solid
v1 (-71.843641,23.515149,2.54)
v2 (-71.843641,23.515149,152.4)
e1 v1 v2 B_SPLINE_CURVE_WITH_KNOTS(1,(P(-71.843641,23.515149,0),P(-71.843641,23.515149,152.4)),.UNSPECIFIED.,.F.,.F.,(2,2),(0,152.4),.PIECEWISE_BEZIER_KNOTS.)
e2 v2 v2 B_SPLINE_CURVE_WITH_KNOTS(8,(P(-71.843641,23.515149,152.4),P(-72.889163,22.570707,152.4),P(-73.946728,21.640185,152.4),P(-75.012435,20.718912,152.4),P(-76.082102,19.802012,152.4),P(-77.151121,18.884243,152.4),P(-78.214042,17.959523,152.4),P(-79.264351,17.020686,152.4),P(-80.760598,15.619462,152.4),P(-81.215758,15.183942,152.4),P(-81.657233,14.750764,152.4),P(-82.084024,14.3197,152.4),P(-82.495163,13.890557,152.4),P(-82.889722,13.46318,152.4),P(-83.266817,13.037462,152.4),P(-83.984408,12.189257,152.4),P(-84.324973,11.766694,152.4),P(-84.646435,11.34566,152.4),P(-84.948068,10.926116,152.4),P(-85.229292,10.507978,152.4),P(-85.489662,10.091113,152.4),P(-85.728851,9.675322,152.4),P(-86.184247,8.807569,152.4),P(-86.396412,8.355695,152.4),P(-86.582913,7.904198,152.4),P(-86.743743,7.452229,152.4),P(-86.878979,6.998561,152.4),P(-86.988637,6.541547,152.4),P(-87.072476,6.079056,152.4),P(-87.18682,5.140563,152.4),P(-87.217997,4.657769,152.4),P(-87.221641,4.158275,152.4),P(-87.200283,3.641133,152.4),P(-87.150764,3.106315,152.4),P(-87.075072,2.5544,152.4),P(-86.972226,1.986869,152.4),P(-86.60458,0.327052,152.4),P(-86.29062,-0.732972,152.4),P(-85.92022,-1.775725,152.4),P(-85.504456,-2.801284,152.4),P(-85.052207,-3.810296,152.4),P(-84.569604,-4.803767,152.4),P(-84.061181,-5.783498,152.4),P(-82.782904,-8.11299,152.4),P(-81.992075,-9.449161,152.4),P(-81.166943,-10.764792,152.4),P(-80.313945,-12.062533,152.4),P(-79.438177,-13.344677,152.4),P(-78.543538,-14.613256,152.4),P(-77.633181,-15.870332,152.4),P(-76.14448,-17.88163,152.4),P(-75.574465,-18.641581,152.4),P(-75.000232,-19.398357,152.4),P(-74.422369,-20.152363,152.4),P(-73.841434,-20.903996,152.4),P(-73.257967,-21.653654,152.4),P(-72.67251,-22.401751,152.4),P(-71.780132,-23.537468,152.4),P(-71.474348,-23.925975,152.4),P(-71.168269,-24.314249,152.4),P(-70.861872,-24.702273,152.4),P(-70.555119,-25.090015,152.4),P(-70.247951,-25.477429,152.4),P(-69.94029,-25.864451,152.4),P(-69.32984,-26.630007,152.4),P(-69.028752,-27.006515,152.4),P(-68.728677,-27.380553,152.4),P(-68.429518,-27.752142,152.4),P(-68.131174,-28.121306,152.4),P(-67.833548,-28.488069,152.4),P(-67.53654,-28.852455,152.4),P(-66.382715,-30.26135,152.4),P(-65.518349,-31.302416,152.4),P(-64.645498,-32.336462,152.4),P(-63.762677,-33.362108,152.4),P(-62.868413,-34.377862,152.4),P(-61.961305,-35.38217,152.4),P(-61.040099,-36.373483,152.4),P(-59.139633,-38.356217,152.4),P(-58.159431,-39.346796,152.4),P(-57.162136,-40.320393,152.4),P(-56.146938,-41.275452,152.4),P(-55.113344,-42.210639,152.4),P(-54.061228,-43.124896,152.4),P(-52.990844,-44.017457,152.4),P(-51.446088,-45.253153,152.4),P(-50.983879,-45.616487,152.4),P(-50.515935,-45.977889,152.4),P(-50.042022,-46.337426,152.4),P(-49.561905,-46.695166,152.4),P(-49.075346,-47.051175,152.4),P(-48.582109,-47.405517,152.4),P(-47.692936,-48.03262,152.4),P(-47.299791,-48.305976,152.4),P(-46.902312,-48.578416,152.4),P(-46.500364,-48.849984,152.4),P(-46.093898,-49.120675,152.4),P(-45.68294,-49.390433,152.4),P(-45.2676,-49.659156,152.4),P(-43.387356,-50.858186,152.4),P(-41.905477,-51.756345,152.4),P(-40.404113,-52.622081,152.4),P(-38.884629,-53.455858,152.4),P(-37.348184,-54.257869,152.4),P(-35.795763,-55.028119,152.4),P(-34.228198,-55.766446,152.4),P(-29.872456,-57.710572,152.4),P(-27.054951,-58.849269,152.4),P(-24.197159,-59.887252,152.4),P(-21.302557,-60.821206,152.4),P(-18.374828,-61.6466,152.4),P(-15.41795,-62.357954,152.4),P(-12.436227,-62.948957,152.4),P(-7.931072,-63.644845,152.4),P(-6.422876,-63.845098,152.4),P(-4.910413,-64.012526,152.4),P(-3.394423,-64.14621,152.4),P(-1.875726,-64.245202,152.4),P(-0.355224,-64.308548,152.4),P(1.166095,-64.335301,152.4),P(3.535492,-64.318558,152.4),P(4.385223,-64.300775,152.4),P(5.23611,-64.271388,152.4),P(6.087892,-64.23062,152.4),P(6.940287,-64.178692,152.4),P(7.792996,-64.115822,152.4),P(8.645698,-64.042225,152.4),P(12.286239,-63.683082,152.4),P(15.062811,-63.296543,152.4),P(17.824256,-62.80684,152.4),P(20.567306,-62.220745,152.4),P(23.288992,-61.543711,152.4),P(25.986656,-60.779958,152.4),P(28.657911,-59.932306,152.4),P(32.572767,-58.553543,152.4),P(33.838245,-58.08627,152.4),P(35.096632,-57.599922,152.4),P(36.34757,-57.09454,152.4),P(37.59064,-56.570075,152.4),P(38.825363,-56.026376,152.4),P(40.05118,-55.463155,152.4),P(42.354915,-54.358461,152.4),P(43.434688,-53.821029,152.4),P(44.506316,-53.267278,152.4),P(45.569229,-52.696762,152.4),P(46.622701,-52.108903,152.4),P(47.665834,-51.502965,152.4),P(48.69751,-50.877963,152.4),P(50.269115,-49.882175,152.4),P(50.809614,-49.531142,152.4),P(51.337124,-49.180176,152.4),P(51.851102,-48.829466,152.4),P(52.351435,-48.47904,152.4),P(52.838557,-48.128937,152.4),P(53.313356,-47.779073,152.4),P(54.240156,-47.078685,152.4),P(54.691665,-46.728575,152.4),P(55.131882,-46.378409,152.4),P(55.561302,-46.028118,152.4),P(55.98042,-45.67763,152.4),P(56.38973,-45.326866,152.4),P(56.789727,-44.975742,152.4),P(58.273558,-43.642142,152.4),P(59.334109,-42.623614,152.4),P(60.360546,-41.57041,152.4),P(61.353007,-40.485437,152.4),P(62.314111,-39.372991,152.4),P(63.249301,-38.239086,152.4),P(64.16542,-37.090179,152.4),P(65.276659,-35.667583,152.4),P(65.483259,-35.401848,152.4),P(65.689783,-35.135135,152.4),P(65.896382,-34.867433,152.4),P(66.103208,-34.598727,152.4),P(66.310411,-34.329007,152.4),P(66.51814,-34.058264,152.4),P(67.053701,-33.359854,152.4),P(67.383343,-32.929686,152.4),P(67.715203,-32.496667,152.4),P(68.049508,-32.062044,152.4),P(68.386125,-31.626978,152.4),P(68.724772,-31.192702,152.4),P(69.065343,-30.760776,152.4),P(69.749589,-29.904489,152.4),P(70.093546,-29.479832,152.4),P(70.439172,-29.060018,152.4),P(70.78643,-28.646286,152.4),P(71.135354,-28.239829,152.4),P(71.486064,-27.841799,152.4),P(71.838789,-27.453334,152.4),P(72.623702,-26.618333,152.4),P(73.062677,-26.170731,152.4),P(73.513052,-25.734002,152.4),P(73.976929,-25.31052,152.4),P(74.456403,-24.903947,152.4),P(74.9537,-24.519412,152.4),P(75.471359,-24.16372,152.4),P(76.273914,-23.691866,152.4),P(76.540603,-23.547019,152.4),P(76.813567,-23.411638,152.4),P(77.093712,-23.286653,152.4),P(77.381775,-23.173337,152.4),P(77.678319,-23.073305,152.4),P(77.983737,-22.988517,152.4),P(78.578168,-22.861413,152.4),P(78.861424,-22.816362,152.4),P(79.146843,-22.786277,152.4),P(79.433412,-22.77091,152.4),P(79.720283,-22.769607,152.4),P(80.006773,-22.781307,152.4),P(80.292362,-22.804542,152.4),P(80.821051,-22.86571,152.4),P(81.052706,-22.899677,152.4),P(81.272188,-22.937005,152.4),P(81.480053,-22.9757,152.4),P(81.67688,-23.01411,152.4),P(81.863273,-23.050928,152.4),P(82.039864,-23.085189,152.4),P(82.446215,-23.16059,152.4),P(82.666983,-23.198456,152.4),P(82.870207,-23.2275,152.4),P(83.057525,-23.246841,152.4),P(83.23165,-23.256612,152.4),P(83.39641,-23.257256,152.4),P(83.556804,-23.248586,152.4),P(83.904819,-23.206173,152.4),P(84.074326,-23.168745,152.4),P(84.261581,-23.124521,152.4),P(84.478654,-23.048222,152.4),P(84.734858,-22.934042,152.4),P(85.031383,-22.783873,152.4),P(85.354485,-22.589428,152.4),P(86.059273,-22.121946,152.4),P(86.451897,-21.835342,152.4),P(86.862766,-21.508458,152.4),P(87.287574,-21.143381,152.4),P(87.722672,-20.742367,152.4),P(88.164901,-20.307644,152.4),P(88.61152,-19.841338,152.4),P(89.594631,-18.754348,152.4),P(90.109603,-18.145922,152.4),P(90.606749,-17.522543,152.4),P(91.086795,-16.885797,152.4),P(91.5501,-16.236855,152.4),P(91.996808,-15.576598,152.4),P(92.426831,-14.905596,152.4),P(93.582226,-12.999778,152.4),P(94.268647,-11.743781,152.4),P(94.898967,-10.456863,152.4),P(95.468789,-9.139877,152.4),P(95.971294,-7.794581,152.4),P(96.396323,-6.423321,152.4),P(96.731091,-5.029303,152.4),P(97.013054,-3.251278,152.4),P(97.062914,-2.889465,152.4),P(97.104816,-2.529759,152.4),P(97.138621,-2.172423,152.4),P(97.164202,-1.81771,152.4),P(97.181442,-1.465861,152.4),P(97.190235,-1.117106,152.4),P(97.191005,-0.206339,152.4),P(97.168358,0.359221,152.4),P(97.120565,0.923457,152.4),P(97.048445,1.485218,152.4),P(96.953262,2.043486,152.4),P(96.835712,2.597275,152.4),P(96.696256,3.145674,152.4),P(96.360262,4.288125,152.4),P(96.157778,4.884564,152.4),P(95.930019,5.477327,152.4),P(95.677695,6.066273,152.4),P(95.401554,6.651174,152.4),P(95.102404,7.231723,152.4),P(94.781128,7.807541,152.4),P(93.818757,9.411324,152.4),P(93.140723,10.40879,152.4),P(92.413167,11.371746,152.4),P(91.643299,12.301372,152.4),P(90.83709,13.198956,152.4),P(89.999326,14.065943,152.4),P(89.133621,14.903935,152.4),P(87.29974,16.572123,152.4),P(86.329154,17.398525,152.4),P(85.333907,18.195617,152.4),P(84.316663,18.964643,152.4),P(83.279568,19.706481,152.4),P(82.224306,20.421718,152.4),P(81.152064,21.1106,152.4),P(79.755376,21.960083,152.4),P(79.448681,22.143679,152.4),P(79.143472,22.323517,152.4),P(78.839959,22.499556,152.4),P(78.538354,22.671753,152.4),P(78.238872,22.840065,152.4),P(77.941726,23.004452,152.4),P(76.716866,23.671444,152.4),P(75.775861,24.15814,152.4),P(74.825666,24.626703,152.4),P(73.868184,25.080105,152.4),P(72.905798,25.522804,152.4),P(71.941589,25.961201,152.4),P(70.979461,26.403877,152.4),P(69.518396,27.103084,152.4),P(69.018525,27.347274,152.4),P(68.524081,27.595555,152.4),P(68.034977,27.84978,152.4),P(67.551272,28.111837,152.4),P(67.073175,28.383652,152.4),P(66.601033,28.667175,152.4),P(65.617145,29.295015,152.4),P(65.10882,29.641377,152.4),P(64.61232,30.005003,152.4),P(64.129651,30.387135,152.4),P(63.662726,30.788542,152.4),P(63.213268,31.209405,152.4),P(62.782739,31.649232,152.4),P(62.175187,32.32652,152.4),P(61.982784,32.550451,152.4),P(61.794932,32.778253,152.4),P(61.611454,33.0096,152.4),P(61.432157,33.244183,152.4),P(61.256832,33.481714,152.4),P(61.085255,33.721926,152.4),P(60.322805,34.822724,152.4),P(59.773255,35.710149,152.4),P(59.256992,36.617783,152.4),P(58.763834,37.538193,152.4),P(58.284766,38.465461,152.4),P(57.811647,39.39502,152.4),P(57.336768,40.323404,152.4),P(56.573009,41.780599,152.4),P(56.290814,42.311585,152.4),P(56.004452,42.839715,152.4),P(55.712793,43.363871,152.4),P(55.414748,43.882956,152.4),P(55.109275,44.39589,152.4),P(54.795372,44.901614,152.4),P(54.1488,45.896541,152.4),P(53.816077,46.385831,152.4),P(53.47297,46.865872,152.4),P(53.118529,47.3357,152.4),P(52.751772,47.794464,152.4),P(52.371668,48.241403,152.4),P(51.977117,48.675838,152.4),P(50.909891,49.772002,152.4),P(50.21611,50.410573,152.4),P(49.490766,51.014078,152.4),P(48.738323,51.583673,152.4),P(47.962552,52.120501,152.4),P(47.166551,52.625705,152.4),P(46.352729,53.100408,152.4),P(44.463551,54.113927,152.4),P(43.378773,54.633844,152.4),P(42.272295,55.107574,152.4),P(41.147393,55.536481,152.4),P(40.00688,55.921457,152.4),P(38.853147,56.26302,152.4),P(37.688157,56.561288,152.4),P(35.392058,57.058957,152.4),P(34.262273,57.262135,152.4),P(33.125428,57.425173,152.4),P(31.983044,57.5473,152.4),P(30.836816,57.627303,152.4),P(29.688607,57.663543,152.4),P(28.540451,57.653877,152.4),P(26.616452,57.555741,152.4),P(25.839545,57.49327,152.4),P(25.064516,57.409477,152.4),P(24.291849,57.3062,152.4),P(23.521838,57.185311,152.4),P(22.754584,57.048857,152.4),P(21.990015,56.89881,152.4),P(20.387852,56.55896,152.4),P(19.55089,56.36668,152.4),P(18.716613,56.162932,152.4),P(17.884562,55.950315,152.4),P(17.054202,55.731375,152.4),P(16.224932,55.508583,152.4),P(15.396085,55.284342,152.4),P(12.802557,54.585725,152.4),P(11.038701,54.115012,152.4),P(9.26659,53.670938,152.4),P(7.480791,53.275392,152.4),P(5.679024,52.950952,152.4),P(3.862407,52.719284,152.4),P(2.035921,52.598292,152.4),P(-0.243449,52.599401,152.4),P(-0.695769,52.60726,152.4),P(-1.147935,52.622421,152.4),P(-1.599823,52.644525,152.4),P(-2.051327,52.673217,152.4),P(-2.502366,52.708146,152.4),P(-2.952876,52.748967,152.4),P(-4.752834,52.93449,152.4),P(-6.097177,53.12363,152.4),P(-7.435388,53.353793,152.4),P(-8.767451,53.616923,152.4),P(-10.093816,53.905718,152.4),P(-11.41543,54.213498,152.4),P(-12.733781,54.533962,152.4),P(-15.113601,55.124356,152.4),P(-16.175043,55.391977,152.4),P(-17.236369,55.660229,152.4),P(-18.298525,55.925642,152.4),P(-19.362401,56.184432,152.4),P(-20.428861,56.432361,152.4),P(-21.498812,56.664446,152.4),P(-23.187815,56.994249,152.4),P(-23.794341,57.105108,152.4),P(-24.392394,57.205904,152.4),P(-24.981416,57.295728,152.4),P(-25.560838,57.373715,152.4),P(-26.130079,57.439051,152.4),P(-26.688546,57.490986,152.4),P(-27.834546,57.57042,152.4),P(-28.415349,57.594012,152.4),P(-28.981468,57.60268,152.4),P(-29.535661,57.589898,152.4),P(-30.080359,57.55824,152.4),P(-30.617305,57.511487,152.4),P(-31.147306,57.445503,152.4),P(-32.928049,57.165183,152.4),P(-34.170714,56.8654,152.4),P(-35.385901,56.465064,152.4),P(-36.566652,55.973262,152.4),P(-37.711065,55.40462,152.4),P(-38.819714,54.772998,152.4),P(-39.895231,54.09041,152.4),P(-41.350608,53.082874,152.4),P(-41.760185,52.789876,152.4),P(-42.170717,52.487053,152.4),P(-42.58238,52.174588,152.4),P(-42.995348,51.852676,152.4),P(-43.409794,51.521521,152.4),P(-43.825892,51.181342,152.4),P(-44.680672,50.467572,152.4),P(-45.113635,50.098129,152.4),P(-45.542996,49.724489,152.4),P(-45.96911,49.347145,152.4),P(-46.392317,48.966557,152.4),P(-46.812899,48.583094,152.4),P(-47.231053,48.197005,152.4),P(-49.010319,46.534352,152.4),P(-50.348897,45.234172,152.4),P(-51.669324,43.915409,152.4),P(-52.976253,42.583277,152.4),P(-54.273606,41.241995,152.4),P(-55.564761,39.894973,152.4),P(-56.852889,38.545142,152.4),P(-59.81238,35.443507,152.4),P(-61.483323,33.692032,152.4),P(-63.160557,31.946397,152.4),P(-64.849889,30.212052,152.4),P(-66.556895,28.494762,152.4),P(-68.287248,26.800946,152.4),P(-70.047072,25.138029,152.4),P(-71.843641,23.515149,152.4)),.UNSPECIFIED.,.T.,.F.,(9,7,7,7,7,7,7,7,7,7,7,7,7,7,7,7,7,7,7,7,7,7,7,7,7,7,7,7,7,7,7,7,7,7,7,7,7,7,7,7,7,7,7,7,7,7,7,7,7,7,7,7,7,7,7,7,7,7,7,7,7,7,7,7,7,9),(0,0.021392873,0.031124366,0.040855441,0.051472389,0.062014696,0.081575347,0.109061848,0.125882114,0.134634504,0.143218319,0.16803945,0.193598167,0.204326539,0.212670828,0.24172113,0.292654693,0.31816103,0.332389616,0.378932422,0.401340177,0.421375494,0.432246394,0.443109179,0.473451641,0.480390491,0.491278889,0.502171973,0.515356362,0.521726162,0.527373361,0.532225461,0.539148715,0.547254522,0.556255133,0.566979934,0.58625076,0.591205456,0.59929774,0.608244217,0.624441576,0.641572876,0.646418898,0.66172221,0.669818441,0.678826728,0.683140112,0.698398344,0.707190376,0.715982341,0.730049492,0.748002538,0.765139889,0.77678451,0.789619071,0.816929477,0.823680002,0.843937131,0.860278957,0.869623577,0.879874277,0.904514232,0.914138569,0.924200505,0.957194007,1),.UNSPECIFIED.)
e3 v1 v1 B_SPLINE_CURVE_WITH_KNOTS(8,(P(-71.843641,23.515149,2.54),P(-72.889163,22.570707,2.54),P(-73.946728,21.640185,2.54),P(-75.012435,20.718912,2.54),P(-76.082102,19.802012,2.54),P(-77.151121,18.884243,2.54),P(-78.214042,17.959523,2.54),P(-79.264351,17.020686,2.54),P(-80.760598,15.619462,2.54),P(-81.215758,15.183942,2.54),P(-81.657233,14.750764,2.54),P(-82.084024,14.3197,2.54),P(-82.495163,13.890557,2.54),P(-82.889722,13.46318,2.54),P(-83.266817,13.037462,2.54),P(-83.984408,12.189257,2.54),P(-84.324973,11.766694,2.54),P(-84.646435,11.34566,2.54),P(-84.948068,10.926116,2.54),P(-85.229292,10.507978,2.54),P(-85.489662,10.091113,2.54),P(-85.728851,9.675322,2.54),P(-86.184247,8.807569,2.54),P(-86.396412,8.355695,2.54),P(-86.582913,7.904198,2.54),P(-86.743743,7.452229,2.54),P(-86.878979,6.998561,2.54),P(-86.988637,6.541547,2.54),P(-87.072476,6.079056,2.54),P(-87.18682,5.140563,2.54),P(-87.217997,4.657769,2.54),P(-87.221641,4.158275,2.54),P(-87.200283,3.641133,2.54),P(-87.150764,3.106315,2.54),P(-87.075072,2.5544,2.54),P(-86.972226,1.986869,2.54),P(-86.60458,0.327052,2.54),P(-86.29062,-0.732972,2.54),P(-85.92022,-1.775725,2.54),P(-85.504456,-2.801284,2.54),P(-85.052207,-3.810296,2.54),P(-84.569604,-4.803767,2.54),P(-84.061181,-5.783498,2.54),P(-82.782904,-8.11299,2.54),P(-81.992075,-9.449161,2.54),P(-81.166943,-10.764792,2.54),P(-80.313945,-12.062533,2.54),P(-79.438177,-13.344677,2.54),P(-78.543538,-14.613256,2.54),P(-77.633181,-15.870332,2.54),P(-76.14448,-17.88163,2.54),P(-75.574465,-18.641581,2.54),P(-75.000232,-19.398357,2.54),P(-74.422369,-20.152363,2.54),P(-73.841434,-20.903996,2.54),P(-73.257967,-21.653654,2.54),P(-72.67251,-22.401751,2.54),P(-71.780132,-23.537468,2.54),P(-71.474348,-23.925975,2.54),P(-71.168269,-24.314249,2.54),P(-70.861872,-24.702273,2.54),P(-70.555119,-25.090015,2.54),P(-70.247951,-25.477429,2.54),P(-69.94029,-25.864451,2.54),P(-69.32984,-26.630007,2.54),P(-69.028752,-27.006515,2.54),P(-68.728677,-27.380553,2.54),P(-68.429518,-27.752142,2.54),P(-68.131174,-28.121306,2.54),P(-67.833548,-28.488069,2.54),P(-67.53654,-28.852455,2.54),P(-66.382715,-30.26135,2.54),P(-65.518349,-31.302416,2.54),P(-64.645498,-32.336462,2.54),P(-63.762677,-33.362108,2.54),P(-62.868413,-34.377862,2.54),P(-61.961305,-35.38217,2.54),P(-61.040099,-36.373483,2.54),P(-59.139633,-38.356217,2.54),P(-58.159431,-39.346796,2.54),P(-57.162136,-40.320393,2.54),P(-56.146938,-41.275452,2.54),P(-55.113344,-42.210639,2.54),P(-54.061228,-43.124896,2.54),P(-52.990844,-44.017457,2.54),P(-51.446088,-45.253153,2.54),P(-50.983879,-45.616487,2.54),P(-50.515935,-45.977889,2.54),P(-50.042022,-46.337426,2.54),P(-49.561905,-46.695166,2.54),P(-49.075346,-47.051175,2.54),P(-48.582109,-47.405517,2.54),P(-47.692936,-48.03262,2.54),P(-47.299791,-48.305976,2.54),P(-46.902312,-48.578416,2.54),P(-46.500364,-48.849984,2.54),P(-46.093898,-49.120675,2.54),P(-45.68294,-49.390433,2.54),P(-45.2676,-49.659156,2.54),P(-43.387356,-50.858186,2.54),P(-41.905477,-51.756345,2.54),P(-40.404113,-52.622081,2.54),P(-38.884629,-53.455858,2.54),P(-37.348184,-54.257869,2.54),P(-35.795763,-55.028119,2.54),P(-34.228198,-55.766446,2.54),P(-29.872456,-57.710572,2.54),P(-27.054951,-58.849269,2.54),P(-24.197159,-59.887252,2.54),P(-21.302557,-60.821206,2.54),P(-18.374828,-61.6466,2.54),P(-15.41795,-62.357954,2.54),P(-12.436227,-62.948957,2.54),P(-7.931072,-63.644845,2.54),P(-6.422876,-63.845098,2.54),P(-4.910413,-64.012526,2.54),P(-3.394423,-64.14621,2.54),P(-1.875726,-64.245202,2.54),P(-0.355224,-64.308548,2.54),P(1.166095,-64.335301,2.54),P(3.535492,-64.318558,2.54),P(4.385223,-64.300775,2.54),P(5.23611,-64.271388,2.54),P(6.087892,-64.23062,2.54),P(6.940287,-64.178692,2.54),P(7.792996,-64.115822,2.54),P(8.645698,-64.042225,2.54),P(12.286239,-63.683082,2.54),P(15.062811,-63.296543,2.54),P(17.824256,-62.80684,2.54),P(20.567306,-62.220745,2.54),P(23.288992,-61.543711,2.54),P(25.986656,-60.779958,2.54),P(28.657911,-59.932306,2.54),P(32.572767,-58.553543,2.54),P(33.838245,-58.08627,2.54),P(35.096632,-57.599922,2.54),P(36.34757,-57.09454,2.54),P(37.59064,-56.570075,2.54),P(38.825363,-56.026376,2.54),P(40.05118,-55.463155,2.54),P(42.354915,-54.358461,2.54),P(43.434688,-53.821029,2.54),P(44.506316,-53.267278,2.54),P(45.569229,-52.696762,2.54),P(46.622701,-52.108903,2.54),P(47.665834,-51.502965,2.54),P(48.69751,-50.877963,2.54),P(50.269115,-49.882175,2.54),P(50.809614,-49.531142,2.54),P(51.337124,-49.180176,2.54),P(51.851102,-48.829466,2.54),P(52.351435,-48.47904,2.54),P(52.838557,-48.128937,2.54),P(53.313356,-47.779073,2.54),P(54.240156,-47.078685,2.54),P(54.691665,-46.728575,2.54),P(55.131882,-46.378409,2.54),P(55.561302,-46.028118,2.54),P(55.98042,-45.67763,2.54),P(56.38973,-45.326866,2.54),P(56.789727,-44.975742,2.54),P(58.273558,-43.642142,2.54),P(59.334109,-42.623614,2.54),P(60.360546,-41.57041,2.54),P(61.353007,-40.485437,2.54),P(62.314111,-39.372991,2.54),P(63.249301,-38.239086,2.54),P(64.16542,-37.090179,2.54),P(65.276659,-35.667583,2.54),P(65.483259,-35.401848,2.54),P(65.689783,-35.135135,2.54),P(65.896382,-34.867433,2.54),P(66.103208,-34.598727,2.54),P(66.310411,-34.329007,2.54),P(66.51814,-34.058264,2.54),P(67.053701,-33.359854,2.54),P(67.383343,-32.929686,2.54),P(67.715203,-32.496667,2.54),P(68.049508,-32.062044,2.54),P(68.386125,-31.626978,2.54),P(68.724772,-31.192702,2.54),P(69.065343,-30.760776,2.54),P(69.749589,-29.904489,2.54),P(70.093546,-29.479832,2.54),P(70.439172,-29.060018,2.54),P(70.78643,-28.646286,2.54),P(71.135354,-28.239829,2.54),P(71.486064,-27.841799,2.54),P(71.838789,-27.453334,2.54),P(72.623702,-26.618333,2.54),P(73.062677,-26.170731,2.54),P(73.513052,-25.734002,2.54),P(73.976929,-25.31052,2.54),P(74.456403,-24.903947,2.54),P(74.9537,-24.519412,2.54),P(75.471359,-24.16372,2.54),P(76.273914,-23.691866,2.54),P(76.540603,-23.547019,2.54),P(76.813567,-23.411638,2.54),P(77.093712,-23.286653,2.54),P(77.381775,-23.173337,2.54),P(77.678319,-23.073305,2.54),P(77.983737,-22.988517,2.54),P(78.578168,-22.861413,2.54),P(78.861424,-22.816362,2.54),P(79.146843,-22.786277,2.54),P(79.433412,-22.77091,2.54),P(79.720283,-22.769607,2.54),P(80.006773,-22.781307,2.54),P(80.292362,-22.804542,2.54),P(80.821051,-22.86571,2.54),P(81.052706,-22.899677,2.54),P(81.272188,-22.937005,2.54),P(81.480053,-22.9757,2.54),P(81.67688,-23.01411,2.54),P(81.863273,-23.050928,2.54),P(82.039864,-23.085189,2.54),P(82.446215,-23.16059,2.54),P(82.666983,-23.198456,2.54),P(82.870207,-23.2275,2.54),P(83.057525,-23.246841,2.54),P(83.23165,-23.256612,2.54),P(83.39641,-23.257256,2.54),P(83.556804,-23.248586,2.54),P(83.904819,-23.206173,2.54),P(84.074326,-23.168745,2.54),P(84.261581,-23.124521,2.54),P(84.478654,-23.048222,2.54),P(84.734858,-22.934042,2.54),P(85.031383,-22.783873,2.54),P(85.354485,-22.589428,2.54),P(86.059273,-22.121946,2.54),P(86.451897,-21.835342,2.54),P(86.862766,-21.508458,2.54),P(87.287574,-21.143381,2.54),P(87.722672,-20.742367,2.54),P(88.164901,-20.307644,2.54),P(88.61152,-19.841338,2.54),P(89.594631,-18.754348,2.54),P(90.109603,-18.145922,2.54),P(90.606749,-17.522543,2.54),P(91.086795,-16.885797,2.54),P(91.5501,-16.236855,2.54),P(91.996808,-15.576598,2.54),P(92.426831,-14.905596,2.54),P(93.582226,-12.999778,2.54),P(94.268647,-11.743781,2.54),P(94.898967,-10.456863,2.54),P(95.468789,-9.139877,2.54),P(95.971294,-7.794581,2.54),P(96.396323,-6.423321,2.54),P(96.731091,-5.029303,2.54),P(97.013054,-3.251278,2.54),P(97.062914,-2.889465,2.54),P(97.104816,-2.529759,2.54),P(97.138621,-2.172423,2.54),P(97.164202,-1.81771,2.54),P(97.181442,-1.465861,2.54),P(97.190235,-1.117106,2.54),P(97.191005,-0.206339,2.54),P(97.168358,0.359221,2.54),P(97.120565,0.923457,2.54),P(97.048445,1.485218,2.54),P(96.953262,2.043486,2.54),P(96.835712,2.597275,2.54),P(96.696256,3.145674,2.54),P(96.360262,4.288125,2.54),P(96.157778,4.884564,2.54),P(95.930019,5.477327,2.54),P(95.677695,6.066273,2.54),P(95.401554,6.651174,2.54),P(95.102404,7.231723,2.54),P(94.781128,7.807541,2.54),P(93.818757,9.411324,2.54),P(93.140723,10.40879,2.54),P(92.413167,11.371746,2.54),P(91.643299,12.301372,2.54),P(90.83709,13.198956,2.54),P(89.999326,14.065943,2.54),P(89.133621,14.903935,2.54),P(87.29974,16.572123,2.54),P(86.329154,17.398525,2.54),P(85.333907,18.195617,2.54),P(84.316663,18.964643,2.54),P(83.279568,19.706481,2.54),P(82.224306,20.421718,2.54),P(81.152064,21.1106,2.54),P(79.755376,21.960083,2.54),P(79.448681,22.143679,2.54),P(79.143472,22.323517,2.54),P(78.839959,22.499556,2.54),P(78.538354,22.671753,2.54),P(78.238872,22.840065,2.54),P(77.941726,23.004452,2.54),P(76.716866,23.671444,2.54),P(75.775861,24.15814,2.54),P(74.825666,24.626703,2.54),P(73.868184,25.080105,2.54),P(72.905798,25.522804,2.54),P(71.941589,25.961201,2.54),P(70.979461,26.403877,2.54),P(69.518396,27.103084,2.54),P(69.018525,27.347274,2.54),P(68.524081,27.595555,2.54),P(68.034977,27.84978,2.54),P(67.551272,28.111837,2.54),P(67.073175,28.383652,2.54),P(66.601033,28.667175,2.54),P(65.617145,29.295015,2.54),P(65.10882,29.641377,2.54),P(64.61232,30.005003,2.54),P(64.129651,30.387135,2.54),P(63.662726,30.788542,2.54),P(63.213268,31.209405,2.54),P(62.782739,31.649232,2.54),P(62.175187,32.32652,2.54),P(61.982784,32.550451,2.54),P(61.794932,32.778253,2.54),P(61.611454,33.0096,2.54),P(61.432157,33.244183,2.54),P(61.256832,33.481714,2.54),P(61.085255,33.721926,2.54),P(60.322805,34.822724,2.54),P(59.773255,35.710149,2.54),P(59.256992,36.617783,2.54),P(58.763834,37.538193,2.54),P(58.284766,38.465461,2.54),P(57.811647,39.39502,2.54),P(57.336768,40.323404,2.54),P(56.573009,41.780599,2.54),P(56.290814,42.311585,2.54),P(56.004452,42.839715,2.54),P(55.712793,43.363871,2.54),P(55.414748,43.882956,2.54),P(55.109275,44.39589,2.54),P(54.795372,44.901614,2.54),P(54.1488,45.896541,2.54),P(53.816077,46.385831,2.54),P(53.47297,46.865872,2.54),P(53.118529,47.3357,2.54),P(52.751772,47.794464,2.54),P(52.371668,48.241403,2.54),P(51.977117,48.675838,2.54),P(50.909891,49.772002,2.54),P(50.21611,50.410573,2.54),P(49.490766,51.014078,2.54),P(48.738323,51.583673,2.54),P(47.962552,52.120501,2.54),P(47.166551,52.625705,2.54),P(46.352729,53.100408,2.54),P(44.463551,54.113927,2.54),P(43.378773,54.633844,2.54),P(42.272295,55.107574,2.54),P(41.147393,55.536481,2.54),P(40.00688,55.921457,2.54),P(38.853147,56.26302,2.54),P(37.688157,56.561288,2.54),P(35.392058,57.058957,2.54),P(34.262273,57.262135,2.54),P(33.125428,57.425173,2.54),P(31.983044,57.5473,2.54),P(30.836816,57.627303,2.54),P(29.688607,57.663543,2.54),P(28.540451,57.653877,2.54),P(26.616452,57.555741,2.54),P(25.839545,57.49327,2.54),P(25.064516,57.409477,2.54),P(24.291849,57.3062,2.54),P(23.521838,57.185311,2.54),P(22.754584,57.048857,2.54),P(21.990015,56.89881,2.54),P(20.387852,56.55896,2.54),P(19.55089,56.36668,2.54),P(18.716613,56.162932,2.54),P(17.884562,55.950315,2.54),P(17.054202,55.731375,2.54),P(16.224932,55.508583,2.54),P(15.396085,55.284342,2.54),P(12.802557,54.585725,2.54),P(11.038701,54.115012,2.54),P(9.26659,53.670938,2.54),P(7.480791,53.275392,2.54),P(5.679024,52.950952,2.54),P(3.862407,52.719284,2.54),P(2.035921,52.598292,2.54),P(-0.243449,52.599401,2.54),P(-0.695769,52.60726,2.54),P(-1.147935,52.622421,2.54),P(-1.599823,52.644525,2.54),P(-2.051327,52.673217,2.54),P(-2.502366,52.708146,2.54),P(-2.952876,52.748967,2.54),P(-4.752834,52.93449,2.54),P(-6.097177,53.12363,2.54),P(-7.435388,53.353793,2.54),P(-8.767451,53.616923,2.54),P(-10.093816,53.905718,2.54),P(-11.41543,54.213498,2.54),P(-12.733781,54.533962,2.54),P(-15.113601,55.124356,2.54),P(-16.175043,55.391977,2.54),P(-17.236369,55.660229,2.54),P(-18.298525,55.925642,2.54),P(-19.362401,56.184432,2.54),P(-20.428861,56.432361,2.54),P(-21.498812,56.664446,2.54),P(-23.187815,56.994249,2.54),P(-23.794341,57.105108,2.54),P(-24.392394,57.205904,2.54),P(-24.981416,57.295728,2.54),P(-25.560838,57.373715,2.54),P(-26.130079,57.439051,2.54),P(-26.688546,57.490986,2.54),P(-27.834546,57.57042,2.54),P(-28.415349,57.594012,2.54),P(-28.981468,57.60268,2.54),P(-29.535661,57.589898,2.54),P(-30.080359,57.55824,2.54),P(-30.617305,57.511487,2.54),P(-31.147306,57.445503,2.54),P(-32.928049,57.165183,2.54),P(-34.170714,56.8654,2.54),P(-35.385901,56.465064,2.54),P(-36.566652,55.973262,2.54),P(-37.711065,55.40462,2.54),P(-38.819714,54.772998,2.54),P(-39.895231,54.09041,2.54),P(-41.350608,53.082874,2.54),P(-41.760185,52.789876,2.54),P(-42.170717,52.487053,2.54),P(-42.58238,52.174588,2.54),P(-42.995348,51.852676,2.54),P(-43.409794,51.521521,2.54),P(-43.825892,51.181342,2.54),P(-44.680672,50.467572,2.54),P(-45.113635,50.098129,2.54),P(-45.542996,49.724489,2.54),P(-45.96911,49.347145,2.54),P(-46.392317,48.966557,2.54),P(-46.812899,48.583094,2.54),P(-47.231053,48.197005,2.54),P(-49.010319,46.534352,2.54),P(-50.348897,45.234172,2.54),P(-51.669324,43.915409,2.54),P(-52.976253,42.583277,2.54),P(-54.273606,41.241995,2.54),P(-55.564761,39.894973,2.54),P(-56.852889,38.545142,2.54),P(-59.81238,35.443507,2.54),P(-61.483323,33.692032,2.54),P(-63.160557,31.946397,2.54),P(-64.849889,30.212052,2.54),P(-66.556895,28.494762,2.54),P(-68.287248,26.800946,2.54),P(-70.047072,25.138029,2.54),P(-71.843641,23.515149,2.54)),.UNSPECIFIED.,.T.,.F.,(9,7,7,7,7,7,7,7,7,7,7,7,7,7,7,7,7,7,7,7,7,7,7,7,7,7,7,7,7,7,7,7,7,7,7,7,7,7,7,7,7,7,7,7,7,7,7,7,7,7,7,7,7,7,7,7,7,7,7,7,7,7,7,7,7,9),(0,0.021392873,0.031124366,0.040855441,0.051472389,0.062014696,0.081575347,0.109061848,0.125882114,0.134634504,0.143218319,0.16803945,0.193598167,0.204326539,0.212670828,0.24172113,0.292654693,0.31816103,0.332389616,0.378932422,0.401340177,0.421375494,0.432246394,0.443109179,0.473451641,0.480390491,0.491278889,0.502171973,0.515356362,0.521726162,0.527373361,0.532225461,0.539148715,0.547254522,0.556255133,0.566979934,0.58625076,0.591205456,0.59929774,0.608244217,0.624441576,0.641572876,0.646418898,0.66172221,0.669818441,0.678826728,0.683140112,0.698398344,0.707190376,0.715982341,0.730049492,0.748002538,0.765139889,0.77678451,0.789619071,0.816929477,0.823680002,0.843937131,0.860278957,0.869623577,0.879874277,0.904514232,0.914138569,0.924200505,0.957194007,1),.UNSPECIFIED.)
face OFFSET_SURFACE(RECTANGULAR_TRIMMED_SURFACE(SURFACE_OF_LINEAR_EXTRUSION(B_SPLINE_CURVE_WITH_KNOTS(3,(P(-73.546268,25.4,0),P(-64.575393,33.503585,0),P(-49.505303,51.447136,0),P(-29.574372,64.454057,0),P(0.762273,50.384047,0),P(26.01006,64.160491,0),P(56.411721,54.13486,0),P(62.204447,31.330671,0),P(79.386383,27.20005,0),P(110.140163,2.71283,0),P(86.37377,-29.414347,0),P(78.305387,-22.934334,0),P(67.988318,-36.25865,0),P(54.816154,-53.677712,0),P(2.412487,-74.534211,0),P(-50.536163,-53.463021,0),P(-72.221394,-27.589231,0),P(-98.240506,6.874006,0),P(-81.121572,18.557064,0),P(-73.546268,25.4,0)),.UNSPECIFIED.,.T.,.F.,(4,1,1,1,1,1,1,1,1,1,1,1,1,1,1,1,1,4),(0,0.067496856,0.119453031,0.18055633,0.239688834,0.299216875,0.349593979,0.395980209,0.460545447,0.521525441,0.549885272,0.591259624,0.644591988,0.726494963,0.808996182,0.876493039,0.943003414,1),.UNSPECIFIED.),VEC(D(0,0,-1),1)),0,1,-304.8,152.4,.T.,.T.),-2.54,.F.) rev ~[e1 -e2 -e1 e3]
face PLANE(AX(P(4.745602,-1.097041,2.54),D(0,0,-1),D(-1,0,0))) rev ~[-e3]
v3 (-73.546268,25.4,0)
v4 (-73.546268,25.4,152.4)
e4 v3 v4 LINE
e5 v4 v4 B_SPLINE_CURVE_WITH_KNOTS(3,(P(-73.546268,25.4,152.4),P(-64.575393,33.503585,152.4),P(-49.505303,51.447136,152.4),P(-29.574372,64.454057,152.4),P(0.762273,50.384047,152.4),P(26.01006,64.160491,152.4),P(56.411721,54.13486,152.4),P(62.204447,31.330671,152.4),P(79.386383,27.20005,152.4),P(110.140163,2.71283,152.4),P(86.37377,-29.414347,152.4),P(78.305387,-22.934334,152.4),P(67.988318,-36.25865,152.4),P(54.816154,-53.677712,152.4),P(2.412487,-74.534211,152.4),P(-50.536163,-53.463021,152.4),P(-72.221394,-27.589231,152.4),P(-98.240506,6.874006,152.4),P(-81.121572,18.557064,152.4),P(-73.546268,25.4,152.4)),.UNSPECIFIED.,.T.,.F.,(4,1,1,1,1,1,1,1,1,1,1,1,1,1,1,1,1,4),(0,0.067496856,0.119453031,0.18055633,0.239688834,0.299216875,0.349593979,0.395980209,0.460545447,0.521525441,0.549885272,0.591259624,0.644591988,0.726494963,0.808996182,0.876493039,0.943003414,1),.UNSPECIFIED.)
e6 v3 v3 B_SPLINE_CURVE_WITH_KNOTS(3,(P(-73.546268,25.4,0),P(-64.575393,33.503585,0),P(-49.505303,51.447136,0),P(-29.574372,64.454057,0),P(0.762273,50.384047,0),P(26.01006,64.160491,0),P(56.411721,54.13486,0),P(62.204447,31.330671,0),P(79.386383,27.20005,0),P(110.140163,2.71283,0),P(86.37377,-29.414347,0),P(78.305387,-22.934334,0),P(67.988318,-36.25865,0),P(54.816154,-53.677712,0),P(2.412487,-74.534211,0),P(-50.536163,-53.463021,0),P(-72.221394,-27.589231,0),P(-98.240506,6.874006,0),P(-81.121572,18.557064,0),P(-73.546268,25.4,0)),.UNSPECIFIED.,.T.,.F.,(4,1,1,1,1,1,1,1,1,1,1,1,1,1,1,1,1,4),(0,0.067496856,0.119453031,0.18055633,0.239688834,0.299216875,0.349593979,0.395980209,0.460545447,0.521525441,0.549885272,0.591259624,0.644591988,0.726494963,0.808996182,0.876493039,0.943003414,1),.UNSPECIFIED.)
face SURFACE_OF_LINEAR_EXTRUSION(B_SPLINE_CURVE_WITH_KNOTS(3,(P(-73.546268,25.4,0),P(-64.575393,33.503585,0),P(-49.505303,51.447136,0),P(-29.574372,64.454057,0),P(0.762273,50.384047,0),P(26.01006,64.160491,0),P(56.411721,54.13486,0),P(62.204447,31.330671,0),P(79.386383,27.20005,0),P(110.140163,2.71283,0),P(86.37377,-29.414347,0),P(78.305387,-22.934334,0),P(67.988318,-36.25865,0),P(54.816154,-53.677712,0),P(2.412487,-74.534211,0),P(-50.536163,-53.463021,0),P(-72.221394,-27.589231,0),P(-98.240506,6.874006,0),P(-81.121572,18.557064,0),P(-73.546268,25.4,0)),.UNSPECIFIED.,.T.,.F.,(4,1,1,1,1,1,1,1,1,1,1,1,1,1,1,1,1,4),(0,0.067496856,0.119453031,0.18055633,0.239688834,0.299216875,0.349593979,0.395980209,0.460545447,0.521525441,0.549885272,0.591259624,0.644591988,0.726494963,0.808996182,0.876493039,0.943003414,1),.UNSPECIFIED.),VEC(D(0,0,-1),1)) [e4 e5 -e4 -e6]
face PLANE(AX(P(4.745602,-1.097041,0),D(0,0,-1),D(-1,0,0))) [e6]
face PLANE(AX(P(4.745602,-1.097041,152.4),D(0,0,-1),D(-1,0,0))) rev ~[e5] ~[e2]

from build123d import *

# Parameters (mm, degrees)
F1_DEPTH = 152.4
F2_T     = -2.54


with BuildPart() as f1:
    # F0 (on Top) → F1 (new body)
    with BuildSketch(Plane.XY):
        with BuildLine():
            add(Edge.make_bspline(
                [(-73.5462679528, 25.4), (-64.5753933884, 33.5035849453), (-49.5053030802, 51.4471362392), (-29.5743718492, 64.4540573463), (0.7622728811, 50.3840467647), (26.0100603901, 64.1604912954), (56.4117205106, 54.1348596003), (62.2044465811, 31.3306708075), (79.3863828178, 27.2000497931), (110.1401629638, 2.7128302034), (86.3737703777, -29.4143470848), (78.3053871107, -22.934333883), (67.9883175464, -36.2586504173), (54.8161535852, -53.6777122126), (2.4124871165, -74.5342114584), (-50.5361630808, -53.4630207913), (-72.2213944234, -27.5892306925), (-98.2405061403, 6.8740057241), (-81.1215722705, 18.5570638309), (-73.5462679528, 25.4)],
                knots=[0, 0, 0, 0, 0.0674968564, 0.1194530313, 0.1805563298, 0.2396888337, 0.2992168751, 0.3495939795, 0.3959802094, 0.4605454473, 0.5215254411, 0.5498852723, 0.5912596239, 0.6445919877, 0.7264949633, 0.8089961822, 0.8764930386, 0.9430034136, 1, 1, 1, 1], degree=3))
        make_face()
    extrude(amount=F1_DEPTH)

    # F2
    f2_openings = [f1.faces().sort_by_distance(p)[0] for p in [
        (3.611478, -1.786257, 152.4),
    ]]
    offset(amount=F2_T, openings=f2_openings)


solid = f1.part
